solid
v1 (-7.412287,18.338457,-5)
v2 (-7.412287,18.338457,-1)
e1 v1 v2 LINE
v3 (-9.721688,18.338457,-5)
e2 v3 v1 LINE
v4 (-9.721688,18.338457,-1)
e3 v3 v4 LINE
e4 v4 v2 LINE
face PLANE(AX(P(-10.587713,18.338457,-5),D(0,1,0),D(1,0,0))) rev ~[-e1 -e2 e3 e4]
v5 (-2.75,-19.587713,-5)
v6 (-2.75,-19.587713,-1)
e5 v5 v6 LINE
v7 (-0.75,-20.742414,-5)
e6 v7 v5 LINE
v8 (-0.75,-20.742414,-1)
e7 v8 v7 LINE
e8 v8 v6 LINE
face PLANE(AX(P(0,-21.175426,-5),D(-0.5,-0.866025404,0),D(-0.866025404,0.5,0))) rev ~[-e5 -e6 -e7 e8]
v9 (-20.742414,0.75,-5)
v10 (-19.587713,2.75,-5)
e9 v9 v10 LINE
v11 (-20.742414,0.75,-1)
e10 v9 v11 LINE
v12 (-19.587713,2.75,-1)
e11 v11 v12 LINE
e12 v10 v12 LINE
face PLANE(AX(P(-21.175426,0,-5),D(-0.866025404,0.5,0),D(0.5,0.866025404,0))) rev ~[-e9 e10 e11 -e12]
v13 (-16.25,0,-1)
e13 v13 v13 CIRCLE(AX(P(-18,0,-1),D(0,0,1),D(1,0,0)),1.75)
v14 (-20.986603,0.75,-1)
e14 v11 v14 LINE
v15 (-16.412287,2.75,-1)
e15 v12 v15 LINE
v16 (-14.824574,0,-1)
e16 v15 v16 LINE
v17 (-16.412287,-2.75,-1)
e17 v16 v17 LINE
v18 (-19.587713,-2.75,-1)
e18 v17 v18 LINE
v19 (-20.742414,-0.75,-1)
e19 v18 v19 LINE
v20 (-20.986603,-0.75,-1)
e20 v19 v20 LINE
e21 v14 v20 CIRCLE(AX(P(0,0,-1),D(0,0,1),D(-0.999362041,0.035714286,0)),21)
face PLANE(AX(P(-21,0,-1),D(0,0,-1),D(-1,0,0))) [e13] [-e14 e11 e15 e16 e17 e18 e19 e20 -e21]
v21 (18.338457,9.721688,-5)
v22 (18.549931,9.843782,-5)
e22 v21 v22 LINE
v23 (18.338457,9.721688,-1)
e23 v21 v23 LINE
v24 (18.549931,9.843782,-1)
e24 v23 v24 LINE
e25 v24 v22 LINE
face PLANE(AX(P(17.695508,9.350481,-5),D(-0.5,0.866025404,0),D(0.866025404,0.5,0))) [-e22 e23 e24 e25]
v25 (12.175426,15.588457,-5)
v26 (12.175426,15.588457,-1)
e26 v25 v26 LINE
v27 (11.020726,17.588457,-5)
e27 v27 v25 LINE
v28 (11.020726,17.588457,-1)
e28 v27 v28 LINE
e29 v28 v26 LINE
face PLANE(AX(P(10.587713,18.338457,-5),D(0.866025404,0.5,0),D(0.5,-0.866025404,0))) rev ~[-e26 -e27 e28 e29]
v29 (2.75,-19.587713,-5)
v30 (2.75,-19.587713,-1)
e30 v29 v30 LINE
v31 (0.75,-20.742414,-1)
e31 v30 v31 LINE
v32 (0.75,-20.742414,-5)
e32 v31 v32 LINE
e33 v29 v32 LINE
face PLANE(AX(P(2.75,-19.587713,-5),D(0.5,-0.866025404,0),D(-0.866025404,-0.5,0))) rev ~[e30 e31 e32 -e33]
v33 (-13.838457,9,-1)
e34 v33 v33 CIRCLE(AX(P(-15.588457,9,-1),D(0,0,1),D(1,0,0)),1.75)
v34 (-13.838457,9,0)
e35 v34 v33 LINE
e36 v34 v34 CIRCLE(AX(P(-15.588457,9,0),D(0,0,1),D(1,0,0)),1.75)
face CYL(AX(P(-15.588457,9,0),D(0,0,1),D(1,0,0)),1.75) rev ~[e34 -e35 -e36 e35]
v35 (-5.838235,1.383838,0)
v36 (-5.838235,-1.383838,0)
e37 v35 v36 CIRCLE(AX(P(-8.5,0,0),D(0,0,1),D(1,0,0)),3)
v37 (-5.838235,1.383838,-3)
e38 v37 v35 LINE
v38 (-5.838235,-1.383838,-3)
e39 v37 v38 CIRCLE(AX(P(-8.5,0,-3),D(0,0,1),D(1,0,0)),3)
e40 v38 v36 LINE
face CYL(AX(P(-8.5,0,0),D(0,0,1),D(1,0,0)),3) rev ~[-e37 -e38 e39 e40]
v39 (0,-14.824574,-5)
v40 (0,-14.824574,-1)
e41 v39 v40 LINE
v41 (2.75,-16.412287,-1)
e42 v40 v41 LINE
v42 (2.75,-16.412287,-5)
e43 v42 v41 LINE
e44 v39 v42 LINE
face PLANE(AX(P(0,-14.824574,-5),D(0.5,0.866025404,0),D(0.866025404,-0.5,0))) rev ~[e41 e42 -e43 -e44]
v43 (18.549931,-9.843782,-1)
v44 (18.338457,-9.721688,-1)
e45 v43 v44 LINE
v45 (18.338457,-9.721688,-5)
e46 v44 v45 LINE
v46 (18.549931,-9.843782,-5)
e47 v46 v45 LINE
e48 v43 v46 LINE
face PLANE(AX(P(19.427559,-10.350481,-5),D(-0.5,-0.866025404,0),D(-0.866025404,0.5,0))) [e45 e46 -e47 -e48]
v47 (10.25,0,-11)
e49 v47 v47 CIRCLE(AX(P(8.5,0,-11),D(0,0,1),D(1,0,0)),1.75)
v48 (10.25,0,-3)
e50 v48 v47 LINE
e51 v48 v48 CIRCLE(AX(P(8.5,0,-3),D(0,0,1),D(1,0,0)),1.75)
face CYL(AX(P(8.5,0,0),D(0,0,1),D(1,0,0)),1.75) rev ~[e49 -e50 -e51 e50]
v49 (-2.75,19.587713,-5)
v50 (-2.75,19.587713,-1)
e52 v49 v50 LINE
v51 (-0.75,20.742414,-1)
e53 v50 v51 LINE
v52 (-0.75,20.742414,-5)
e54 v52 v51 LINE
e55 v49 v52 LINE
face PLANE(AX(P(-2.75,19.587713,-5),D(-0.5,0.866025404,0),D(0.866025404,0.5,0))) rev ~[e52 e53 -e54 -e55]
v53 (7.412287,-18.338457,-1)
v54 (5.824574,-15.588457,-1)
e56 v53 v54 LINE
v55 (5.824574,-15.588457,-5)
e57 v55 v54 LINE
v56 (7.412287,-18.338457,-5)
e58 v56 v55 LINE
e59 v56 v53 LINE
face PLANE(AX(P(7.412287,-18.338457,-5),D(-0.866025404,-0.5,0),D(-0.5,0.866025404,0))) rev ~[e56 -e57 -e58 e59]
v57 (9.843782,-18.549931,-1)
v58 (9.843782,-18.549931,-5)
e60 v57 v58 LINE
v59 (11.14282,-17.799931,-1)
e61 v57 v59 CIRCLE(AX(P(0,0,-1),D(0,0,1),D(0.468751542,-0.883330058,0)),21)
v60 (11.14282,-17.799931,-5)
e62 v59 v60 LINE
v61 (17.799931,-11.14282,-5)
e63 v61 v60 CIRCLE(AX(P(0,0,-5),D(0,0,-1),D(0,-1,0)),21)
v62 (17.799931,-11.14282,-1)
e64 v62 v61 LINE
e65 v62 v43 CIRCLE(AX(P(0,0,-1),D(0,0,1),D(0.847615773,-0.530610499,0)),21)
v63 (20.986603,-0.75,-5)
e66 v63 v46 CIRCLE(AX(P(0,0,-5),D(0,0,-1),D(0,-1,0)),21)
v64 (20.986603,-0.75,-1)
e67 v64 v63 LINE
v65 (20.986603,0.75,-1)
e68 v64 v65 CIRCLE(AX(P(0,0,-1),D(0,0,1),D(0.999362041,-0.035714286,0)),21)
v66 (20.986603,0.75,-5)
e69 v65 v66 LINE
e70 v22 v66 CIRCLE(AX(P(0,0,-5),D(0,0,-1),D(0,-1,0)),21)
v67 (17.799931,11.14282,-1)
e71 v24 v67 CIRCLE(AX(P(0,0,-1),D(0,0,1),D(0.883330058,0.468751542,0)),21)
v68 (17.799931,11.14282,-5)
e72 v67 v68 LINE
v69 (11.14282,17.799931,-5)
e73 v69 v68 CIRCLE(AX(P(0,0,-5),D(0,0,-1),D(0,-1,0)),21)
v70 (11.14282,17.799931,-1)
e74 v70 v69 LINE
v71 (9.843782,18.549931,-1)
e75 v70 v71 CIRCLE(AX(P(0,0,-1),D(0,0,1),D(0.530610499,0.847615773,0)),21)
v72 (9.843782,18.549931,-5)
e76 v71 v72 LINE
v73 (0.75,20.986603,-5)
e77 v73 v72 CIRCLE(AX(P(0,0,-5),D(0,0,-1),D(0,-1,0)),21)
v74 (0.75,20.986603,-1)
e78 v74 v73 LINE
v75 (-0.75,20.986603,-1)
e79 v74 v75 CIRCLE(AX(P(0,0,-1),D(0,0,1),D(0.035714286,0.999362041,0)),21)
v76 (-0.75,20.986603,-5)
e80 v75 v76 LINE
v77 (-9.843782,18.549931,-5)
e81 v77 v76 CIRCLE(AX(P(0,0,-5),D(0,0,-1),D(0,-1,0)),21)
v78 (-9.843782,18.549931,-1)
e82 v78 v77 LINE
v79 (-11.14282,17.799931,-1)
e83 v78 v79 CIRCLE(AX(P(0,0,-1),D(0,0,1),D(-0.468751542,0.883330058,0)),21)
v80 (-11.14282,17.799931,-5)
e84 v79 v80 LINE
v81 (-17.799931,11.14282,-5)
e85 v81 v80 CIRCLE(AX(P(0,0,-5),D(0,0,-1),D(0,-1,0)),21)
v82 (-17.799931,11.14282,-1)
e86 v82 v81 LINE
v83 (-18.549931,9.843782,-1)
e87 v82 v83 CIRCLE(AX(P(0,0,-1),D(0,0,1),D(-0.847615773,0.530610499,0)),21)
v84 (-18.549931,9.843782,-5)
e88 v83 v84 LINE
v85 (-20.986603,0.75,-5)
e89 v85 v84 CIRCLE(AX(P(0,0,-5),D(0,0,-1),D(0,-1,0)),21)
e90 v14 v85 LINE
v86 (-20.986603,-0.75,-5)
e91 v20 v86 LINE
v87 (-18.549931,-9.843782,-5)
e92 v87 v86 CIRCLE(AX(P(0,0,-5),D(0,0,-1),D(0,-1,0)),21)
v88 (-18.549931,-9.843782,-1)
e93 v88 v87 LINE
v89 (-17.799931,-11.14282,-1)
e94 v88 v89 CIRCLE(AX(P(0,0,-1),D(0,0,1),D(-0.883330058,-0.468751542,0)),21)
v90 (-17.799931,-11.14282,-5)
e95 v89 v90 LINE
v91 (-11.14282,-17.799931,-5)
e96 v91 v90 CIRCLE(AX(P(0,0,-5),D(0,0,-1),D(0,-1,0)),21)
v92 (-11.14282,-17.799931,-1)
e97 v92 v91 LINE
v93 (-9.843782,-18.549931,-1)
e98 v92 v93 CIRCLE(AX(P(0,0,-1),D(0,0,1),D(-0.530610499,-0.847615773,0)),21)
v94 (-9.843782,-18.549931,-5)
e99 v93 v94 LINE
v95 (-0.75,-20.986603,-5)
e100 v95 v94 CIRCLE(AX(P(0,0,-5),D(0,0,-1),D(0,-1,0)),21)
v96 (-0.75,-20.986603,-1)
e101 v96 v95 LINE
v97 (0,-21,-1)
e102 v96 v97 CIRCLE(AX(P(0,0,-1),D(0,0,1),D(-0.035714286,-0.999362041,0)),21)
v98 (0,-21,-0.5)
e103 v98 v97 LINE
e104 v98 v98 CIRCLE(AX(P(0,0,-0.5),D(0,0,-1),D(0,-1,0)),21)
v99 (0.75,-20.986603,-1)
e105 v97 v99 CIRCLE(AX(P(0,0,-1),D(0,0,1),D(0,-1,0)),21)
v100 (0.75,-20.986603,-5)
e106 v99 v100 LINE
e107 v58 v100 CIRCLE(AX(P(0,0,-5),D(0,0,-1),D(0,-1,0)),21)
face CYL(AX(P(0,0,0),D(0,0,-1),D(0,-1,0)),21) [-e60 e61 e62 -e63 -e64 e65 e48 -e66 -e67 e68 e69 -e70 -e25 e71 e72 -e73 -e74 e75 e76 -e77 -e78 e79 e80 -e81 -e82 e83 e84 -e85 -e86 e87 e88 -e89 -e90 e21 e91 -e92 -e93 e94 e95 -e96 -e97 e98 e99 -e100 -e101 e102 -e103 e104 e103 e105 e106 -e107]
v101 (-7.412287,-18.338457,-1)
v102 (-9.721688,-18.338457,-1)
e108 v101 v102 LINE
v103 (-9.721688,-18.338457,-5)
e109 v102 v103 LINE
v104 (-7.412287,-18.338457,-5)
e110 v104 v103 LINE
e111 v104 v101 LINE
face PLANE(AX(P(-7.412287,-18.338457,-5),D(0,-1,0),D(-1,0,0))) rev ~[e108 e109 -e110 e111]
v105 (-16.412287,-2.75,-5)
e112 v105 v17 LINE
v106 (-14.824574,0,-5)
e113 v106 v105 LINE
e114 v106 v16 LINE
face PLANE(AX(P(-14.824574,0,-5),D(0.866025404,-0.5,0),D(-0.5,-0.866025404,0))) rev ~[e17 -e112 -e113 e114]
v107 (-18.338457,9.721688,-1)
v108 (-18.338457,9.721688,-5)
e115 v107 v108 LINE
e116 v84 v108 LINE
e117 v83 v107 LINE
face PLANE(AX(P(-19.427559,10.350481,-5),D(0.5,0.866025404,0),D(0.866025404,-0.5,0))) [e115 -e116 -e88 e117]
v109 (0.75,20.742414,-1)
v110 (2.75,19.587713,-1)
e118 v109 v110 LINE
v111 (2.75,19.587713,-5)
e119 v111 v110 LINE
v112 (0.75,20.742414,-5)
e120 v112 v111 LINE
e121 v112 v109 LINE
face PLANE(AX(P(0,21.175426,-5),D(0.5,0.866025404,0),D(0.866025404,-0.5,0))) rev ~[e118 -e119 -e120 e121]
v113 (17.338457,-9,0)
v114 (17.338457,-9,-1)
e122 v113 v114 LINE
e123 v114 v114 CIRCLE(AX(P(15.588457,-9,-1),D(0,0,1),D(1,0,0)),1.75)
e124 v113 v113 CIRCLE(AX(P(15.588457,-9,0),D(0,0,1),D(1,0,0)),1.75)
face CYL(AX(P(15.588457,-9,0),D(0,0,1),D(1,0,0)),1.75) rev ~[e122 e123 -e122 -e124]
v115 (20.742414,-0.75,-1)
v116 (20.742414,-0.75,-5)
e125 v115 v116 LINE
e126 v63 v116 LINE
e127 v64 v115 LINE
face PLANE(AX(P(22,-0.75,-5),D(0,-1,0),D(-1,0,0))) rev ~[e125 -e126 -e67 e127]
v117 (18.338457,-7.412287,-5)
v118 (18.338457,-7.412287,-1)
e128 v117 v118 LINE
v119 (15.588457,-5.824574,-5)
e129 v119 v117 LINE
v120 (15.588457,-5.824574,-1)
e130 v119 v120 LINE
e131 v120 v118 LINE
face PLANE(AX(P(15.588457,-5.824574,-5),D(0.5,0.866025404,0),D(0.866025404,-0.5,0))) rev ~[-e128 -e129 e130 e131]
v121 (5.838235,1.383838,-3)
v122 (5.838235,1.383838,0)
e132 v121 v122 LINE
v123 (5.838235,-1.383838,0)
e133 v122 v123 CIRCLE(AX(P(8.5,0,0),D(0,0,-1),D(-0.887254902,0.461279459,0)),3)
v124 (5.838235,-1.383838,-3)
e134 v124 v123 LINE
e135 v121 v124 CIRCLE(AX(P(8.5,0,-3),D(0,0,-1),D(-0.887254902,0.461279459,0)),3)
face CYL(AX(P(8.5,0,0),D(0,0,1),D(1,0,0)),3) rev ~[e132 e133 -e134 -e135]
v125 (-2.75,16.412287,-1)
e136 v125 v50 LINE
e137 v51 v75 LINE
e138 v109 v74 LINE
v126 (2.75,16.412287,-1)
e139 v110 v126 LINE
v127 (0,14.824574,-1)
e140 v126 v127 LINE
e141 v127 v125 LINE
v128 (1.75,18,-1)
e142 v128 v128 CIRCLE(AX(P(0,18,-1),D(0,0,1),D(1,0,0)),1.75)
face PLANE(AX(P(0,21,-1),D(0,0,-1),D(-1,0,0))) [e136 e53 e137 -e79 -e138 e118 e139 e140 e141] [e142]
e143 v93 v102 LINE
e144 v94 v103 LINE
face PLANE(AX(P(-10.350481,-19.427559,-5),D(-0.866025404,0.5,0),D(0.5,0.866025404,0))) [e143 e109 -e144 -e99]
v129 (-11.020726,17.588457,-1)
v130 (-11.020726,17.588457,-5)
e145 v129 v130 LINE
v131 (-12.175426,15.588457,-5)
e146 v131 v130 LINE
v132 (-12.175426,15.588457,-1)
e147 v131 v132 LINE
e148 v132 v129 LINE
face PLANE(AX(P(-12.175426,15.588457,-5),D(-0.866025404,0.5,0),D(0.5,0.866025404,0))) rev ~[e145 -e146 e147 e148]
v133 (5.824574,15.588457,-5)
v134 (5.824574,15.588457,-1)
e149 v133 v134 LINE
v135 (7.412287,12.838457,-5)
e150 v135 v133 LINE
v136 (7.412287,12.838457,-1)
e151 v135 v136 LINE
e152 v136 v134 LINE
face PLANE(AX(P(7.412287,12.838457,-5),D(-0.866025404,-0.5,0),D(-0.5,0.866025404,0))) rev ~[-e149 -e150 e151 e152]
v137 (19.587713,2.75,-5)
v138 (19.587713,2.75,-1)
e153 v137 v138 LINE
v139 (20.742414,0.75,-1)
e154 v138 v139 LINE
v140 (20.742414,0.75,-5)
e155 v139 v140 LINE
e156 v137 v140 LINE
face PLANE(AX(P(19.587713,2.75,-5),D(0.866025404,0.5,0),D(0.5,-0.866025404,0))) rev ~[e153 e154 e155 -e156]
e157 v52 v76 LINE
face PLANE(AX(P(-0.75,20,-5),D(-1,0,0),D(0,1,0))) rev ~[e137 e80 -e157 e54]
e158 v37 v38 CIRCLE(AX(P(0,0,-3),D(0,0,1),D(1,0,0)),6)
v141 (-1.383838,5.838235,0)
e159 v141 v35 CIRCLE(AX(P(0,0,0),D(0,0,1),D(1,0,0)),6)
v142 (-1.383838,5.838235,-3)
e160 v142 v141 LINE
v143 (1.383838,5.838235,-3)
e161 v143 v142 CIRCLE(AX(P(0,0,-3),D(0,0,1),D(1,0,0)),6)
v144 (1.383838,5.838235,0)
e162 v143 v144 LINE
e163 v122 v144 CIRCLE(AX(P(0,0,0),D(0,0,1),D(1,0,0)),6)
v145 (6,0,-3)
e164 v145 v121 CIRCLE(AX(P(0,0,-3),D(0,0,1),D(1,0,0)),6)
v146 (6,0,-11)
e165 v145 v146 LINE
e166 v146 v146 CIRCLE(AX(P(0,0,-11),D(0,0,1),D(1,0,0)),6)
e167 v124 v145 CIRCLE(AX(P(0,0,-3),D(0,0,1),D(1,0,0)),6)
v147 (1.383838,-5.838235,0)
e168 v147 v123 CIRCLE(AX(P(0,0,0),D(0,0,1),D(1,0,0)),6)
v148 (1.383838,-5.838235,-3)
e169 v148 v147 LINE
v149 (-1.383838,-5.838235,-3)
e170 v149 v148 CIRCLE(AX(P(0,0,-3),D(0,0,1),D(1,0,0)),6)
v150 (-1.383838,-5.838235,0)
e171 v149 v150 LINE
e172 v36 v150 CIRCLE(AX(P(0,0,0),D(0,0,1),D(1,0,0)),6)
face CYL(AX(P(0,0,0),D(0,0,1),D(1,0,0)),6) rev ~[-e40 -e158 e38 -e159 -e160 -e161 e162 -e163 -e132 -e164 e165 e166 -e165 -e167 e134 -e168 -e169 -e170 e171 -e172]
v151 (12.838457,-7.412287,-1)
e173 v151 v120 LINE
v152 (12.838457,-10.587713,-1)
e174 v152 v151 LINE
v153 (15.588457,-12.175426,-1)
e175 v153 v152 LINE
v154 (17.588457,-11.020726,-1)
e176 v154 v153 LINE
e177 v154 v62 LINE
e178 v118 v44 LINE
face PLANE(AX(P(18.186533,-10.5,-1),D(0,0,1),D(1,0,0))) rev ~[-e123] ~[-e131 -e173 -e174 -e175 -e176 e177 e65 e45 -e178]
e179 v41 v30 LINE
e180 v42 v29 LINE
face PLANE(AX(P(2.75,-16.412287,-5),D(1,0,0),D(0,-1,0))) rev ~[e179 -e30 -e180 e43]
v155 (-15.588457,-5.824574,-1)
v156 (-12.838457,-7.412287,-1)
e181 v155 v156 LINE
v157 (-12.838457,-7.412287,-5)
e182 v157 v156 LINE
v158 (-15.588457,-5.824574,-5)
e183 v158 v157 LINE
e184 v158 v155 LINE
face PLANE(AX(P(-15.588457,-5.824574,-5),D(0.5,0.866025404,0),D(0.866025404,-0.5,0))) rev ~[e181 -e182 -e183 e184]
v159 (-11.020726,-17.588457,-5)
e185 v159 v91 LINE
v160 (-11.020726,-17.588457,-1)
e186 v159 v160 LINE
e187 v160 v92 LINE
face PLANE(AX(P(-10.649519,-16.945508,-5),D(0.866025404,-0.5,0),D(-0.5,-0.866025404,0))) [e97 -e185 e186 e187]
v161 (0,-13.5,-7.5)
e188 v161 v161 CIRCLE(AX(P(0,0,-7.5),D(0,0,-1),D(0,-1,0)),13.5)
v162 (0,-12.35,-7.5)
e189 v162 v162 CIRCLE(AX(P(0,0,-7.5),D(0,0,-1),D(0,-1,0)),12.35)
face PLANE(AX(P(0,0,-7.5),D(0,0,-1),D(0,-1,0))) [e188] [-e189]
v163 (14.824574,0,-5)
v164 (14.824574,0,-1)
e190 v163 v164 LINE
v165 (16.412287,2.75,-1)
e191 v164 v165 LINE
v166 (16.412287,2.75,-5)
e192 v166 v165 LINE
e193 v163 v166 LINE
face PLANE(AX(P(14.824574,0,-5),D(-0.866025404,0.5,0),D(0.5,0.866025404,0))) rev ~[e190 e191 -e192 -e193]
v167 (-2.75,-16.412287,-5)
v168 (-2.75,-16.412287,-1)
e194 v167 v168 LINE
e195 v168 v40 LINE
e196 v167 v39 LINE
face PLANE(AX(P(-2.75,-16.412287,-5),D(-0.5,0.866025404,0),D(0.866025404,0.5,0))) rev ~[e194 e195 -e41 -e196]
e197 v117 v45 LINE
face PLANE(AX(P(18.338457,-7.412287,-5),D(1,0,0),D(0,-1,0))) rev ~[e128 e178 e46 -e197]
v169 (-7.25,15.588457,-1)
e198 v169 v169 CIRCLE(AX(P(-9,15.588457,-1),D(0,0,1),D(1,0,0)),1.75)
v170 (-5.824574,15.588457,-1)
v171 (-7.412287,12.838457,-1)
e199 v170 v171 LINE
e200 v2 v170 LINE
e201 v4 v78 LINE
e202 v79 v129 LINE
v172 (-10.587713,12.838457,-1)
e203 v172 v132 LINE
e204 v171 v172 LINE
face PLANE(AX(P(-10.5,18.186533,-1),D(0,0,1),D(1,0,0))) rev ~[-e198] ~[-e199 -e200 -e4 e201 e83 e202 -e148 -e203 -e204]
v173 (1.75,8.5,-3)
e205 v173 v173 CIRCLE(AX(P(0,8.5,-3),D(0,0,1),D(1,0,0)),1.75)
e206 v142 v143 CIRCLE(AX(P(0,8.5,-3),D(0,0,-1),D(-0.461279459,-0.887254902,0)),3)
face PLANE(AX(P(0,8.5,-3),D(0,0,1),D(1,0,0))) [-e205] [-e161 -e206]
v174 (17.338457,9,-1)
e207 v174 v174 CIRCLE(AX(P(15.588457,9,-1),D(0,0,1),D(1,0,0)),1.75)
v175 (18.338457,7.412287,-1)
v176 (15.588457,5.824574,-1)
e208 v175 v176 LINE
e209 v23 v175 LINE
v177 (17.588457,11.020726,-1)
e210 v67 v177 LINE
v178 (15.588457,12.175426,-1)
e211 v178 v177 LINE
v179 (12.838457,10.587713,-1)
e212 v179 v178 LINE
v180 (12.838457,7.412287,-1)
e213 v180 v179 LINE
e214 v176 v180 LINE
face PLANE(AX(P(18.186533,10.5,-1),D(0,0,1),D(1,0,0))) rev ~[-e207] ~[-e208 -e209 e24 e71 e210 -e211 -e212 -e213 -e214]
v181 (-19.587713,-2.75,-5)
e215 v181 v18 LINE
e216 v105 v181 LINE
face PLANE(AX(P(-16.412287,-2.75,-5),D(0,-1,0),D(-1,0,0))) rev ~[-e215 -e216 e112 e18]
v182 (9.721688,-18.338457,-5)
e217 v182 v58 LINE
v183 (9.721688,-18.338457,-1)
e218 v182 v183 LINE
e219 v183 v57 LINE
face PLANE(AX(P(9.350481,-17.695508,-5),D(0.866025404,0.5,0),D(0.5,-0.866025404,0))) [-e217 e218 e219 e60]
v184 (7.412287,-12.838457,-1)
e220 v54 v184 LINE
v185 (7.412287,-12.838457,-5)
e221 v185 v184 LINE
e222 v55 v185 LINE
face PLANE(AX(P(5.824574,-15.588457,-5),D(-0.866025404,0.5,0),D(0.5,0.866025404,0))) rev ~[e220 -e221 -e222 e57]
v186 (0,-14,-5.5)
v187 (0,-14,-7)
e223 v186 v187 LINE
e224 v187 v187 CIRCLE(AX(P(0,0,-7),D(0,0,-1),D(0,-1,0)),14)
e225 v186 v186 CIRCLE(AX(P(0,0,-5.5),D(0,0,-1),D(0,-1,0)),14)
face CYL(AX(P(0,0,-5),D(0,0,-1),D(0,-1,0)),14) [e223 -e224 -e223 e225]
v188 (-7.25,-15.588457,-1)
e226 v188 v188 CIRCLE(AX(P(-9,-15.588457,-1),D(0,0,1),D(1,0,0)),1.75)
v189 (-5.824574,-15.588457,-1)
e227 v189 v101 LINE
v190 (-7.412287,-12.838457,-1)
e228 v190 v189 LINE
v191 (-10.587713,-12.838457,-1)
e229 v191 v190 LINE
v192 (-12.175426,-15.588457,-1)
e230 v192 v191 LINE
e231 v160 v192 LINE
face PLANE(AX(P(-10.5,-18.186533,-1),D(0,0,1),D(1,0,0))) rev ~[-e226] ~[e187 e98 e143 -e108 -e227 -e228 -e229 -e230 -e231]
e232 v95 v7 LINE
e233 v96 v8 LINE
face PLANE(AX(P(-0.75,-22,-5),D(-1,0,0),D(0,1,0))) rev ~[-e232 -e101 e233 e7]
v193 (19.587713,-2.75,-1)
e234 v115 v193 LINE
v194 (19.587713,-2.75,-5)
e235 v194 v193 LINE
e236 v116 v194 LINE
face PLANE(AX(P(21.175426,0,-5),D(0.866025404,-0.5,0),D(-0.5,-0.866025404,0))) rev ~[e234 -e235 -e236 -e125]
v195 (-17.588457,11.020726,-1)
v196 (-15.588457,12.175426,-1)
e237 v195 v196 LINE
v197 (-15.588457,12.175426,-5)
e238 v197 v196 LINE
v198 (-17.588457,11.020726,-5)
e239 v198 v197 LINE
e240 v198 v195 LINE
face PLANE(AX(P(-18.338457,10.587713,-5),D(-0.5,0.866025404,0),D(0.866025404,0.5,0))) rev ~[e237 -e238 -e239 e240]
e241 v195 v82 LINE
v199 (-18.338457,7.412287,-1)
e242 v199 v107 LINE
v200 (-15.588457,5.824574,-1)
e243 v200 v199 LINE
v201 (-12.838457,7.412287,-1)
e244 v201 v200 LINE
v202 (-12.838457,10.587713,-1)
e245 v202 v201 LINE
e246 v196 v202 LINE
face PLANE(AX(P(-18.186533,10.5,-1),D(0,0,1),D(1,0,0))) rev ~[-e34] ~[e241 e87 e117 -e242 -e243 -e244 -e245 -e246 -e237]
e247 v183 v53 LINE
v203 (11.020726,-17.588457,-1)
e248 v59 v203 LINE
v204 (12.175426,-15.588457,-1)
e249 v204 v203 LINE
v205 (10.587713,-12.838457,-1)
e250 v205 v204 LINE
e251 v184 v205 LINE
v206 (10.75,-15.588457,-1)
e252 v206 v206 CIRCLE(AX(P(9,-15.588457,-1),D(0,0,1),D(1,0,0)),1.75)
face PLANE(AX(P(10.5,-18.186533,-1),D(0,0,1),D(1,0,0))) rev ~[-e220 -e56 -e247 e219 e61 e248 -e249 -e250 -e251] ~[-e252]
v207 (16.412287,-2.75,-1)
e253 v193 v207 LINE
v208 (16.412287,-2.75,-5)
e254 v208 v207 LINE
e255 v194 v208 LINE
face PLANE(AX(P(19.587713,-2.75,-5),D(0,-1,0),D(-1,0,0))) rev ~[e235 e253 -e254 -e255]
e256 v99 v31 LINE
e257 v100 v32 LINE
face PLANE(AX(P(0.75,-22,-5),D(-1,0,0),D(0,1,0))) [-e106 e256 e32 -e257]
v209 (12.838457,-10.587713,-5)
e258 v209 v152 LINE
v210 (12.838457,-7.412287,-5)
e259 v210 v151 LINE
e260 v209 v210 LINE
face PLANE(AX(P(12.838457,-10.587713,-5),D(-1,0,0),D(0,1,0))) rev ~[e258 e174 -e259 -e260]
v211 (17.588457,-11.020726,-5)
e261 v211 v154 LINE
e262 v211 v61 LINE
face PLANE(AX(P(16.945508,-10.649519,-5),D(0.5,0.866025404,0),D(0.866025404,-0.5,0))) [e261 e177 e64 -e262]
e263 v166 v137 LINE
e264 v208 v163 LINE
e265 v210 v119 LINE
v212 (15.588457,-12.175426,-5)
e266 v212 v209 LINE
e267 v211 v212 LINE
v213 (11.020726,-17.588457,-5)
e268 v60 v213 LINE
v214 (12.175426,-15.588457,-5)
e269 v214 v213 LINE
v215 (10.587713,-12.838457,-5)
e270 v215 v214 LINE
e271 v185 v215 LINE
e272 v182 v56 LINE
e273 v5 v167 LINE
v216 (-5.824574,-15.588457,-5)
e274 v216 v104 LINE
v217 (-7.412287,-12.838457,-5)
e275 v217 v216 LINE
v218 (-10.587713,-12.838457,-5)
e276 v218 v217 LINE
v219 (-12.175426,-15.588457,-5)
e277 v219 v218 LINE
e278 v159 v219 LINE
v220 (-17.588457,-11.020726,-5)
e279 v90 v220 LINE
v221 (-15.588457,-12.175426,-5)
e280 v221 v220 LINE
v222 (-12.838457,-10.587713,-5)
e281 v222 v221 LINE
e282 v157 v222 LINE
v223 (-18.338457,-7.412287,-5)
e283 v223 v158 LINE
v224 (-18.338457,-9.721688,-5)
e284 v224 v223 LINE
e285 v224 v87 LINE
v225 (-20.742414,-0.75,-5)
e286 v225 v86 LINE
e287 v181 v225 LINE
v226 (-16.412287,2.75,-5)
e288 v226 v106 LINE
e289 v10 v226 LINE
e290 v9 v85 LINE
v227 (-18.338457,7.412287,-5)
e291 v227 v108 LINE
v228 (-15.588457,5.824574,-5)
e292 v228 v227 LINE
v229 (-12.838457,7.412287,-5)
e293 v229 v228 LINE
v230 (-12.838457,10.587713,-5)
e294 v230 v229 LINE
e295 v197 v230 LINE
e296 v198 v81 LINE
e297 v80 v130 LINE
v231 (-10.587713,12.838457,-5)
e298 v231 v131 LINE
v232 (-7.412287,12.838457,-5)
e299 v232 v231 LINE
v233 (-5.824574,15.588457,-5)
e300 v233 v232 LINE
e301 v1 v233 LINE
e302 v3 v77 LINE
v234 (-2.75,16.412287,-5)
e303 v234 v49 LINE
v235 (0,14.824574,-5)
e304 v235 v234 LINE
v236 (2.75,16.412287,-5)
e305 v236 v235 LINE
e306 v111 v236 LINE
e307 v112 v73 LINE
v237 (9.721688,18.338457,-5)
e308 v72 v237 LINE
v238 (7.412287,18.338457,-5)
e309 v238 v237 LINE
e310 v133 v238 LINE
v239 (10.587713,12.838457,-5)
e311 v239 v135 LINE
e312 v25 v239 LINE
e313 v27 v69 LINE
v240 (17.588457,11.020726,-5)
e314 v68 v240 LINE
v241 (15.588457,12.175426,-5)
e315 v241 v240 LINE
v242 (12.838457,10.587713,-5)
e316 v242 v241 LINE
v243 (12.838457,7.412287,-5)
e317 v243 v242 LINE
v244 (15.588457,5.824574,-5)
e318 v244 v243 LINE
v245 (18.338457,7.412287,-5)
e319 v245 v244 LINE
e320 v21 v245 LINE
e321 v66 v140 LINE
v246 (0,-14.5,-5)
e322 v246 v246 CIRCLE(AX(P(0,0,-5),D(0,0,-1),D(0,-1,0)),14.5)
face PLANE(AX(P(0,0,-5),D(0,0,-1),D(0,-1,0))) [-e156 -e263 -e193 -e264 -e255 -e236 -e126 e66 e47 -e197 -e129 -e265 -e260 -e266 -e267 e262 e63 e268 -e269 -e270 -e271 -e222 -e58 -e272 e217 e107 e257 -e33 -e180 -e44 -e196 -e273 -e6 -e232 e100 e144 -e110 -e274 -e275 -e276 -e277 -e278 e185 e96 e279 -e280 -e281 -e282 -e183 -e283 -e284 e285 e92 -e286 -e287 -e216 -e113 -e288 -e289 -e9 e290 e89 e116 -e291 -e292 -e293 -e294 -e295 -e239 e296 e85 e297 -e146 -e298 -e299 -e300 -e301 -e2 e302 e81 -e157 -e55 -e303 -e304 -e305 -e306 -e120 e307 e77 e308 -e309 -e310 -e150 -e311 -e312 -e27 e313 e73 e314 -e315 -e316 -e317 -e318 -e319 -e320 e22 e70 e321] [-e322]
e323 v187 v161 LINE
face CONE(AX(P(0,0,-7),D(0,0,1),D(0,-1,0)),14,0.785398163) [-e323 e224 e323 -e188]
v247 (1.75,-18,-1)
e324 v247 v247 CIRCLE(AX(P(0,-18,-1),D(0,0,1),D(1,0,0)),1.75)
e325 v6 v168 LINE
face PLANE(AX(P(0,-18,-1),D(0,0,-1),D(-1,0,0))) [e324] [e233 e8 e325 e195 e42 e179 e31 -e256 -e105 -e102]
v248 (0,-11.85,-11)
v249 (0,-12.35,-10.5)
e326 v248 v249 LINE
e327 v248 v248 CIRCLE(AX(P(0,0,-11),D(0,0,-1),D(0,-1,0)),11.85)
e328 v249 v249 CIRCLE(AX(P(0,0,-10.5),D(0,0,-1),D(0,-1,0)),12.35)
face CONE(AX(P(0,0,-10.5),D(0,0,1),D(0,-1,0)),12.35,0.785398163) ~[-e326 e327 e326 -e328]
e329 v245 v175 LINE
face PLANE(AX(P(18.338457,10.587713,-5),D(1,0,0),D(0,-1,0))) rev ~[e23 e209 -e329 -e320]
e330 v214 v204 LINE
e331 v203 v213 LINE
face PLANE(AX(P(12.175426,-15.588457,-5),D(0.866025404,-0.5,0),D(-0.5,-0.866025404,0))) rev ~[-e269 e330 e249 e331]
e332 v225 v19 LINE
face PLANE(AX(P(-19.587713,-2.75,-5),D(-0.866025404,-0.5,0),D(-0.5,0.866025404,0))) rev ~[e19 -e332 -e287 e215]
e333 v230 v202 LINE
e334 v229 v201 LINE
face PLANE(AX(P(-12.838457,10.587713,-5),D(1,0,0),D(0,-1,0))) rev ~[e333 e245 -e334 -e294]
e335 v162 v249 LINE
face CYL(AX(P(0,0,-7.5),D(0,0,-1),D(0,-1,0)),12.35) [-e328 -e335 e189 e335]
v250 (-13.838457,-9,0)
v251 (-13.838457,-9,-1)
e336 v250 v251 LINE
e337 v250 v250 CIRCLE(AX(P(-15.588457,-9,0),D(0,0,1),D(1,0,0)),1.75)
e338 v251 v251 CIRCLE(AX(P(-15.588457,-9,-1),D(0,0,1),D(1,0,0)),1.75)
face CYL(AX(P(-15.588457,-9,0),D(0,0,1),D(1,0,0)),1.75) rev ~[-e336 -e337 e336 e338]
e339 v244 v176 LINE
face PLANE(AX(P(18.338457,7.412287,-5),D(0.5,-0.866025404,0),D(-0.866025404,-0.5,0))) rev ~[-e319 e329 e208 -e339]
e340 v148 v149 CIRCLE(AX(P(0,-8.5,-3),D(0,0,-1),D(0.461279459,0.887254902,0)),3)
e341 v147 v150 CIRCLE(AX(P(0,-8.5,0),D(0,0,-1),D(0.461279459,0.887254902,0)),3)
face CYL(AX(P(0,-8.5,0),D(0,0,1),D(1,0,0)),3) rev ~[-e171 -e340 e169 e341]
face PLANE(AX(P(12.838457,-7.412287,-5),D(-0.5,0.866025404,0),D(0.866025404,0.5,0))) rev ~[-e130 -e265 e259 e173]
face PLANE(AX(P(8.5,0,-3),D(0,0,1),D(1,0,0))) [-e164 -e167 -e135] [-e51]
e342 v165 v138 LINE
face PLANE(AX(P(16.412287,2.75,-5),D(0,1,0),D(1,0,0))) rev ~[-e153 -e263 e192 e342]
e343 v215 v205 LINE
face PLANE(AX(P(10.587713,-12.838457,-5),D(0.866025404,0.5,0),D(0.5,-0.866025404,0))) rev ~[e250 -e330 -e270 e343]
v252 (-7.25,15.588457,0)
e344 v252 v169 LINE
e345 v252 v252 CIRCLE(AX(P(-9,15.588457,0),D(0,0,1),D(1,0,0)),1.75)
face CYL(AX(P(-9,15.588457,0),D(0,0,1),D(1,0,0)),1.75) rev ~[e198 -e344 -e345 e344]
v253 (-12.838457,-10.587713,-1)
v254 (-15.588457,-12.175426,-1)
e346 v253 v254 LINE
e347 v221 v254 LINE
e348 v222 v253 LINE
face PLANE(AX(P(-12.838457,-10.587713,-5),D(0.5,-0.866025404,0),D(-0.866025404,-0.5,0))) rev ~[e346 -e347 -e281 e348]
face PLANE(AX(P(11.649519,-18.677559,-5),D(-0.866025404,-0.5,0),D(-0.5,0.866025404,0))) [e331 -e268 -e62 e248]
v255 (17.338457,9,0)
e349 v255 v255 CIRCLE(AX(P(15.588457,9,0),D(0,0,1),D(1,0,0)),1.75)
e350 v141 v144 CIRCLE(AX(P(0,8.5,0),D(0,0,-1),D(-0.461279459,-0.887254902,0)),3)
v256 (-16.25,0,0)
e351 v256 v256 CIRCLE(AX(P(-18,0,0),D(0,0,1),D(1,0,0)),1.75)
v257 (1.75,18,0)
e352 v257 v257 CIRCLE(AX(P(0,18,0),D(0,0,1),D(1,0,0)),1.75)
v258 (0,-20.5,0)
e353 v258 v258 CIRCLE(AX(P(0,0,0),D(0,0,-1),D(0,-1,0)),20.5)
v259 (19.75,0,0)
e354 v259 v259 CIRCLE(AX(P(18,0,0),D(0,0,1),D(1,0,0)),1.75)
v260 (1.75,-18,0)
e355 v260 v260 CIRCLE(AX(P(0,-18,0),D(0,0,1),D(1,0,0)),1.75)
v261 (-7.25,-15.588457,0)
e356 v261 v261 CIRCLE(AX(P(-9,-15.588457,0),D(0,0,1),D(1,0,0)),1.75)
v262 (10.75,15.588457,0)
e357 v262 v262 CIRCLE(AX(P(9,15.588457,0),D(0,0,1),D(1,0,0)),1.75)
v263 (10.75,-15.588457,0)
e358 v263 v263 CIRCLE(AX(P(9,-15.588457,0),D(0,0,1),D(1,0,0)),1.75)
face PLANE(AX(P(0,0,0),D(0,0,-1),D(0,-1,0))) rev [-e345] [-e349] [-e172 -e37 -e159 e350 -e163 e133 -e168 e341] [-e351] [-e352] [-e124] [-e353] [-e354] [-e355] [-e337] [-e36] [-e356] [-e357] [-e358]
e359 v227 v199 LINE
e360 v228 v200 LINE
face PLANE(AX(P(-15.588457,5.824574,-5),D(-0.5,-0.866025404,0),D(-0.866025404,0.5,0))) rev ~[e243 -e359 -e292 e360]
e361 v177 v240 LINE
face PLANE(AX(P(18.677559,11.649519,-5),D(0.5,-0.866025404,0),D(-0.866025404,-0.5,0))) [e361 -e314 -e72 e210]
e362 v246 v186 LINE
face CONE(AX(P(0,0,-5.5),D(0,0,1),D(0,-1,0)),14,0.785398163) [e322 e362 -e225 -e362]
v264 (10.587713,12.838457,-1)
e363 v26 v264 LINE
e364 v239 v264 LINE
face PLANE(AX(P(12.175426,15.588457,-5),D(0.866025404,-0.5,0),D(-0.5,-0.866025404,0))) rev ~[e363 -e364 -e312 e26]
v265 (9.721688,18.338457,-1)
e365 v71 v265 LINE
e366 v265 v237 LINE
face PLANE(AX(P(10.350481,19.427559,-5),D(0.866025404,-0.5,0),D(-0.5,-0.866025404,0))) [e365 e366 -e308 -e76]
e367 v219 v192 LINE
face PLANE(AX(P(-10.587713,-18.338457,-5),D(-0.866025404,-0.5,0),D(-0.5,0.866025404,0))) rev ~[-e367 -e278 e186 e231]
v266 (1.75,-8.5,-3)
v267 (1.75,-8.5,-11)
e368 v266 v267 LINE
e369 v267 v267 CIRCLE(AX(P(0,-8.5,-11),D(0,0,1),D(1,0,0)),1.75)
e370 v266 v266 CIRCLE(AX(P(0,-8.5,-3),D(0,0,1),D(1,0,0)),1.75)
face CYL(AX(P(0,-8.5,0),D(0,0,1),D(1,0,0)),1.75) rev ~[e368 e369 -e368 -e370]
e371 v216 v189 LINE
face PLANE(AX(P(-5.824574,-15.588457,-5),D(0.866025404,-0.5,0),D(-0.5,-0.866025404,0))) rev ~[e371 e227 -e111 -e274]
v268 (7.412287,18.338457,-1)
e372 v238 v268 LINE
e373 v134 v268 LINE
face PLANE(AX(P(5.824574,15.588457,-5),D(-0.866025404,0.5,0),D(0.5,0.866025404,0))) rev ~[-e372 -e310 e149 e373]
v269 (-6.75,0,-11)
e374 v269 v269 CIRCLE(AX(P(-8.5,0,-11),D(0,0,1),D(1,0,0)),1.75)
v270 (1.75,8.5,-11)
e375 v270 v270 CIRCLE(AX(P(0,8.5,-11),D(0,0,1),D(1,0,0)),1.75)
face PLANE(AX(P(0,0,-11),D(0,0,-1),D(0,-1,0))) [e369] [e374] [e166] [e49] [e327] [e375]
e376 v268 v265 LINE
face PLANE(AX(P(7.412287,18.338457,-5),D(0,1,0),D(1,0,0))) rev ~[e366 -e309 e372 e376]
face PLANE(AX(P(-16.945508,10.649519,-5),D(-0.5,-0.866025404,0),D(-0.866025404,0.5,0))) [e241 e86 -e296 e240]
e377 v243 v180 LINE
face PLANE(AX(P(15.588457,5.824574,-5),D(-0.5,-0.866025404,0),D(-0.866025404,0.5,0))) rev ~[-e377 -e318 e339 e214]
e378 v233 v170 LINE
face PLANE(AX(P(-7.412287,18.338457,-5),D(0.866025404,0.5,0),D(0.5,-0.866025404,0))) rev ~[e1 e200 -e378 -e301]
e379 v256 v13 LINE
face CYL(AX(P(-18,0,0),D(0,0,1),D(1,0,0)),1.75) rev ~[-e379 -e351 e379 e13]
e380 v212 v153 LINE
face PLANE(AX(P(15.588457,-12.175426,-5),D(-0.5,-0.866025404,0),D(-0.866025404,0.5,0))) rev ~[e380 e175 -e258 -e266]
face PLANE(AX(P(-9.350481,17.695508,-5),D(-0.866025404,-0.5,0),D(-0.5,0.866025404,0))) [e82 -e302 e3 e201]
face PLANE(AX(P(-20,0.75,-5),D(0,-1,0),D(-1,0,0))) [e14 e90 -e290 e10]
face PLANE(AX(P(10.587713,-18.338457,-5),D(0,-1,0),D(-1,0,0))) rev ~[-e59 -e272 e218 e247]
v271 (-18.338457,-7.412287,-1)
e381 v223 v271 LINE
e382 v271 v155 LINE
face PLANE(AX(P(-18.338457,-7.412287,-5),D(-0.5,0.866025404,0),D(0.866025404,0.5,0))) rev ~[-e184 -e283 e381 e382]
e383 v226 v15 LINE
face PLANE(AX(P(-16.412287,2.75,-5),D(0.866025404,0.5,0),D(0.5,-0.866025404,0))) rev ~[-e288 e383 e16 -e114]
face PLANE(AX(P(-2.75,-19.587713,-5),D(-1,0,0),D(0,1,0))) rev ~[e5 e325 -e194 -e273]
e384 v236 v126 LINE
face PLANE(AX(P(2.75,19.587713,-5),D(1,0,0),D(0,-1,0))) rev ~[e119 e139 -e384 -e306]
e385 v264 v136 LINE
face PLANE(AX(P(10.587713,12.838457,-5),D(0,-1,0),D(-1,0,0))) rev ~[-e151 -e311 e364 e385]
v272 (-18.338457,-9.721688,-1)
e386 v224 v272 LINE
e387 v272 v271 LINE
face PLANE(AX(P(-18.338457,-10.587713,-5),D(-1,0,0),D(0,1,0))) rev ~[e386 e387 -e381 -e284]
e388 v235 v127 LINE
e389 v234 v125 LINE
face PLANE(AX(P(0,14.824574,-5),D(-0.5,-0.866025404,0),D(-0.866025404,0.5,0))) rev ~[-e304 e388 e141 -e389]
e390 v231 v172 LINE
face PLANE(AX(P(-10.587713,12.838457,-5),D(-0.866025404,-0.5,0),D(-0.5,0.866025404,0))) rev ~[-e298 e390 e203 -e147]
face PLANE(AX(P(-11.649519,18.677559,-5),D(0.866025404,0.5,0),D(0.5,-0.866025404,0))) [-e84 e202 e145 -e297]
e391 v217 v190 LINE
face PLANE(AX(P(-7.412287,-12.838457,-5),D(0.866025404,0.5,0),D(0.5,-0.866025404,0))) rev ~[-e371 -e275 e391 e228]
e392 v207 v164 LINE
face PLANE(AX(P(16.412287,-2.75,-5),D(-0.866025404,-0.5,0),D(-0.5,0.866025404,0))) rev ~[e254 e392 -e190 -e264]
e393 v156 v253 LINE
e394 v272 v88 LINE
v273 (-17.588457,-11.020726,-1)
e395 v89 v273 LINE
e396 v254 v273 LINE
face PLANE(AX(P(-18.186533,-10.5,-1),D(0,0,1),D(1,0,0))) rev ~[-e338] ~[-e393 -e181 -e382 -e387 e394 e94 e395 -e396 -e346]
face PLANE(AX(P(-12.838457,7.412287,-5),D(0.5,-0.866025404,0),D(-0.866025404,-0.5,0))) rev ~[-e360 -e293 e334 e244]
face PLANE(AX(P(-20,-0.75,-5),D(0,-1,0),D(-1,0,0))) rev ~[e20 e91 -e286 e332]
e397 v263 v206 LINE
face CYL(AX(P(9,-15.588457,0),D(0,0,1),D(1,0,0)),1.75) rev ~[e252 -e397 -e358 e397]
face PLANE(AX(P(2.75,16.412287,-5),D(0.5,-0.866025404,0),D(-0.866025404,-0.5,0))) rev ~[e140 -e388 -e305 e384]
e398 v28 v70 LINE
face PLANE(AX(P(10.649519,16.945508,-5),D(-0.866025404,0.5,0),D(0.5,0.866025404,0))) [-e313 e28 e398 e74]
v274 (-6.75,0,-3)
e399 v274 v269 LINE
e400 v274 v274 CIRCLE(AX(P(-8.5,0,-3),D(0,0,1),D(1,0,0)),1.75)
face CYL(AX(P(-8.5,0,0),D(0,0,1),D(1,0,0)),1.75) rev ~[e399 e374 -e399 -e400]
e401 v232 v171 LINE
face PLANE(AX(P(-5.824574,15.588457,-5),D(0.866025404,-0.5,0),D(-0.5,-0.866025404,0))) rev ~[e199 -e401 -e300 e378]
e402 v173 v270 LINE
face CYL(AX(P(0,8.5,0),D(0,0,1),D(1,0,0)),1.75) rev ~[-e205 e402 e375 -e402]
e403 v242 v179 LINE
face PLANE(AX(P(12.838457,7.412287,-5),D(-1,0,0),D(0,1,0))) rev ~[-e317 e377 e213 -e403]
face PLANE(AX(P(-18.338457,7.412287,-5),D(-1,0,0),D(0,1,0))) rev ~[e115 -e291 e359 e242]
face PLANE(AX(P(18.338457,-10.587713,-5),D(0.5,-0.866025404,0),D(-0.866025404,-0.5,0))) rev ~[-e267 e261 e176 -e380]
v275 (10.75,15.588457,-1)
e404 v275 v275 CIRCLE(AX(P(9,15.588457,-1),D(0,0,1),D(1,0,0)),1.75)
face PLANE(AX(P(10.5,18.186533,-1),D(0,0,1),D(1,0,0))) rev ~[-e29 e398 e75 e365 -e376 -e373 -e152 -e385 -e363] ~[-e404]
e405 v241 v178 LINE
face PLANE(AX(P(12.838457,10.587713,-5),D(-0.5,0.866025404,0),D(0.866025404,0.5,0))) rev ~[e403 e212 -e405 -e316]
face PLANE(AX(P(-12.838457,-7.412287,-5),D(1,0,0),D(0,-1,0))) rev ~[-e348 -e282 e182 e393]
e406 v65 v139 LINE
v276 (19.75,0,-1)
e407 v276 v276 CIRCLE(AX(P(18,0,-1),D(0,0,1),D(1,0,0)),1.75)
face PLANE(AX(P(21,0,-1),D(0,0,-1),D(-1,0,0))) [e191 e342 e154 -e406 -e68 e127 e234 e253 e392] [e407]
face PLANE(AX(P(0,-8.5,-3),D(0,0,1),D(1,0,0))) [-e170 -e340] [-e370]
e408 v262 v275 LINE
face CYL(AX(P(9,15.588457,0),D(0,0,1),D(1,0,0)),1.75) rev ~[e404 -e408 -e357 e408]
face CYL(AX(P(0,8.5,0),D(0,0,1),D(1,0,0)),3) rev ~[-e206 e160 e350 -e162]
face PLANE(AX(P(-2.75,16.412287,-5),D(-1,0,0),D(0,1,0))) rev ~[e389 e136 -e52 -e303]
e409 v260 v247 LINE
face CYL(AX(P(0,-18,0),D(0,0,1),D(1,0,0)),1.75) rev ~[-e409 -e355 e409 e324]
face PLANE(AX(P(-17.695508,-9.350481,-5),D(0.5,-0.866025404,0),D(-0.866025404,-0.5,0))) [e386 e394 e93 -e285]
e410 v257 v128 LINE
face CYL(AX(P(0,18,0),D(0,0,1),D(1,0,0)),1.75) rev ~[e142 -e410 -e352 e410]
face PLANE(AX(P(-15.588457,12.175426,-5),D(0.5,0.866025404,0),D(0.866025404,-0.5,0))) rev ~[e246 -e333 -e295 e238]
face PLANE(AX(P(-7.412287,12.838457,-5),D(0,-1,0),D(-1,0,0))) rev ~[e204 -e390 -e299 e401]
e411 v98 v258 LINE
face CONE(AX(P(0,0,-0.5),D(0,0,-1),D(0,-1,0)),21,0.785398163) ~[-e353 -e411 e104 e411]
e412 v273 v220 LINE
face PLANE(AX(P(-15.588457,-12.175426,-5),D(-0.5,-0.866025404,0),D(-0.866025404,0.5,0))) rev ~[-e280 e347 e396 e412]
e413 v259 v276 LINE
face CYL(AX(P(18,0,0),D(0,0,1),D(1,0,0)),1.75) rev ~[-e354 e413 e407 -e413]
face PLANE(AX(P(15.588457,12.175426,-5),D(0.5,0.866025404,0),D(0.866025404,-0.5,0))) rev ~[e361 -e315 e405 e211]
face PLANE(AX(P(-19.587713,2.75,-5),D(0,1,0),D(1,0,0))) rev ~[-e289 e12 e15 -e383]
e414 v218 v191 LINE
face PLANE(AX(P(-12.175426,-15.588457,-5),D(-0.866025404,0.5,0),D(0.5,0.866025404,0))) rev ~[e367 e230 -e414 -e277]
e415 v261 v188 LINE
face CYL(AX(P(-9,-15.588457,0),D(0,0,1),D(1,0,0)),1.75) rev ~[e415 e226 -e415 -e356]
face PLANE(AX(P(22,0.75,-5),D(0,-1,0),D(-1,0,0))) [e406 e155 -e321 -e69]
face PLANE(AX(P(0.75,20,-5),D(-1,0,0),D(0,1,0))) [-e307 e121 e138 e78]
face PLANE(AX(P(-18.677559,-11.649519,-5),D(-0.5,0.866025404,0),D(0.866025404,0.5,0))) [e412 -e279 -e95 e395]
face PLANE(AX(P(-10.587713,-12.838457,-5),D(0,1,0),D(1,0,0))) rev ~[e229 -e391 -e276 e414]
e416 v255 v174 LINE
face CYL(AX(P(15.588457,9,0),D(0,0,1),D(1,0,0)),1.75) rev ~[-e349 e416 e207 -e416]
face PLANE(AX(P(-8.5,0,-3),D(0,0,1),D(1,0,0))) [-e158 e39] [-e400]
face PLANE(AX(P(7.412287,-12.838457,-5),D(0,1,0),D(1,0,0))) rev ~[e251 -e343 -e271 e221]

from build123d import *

# Parameters (mm, degrees)
SKIZZE4_R                        = 1.75
SCHNITT_LINEAR_AUSTRAGEN2_DEPTH  = 32.670175244
SCHNITT_LINEAR_AUSTRAGEN3_DEPTH  = 4
SKIZZE6_R                        = 1.75
SCHNITT_LINEAR_AUSTRAGEN6_DEPTH  = 32.670175244
FASE1_SIZE                       = 0.5
FASE2_SIZE                       = 0.5
SKIZZE8_W                        = 1.5
SKIZZE8_H                        = 2
SKIZZE8_W_2                      = 2
SKIZZE8_H_2                      = 1.5
SCHNITT_LINEAR_AUSTRAGEN8_DEPTH  = 4
SKIZZE9_R                        = 6
SCHNITT_LINEAR_AUSTRAGEN9_DEPTH  = 32.670175244
SKIZZE11_R                       = 3
SCHNITT_LINEAR_AUSTRAGEN10_DEPTH = 3


with BuildPart() as part:
    # Skizze1 → Rotation1 (revolve)
    with BuildSketch(Plane(origin=(0, 0, 0), x_dir=(0, 0, -1), z_dir=(1, 0, 0)), mode=Mode.PRIVATE) as rotation1_sk:
        Polygon((0, 0), (0, 21), (5, 21), (5, 14), (7.5, 14), (7.5, 12.35), (11, 12.35), (11, 0), align=None)
    revolve(rotation1_sk.sketch.rotate(Axis((0, 0, 0), (0, 0, -1)), 180), axis=Axis((0, 0, 0), (0, 0, -1)))

    # Skizze4 → Schnitt-Linear austragen2 (cut, through all)
    with BuildSketch(Plane.XY):
        with Locations((0, 18)):
            Circle(SKIZZE4_R)
        with Locations((9, 15.588457268)):
            Circle(SKIZZE4_R)
        with Locations((15.588457268, 9)):
            Circle(SKIZZE4_R)
        with Locations((18, 0)):
            Circle(SKIZZE4_R)
        with Locations((15.588457268, -9)):
            Circle(SKIZZE4_R)
        with Locations((9, -15.588457268)):
            Circle(SKIZZE4_R)
        with Locations((0, -18)):
            Circle(SKIZZE4_R)
        with Locations((-9, -15.588457268)):
            Circle(SKIZZE4_R)
        with Locations((-15.588457268, -9)):
            Circle(SKIZZE4_R)
        with Locations((-18, 0)):
            Circle(SKIZZE4_R)
        with Locations((-15.588457268, 9)):
            Circle(SKIZZE4_R)
        with Locations((-9, 15.588457268)):
            Circle(SKIZZE4_R)
    extrude(amount=-SCHNITT_LINEAR_AUSTRAGEN2_DEPTH, mode=Mode.SUBTRACT)

    # Skizze5 → Schnitt-Linear austragen3 (cut)
    with BuildSketch(Plane(origin=(0, 0, -5), x_dir=(-1, 0, 0), z_dir=(0, 0, -1))):
        Polygon((7.41228676, 12.838457268), (10.58771324, 12.838457268), (12.175426481, 15.588457268), (10.58771324, 18.338457268), (7.41228676, 18.338457268), (5.824573519, 15.588457268), align=None)
        Polygon((0, 14.824573519), (2.75, 16.41228676), (2.75, 19.58771324), (0, 21.175426481), (-2.75, 19.58771324), (-2.75, 16.41228676), align=None)
        Polygon((12.838457268, 7.41228676), (15.588457268, 5.824573519), (18.338457268, 7.41228676), (18.338457268, 10.58771324), (15.588457268, 12.175426481), (12.838457268, 10.58771324), align=None)
        Polygon((14.824573519, 0), (16.41228676, -2.75), (19.58771324, -2.75), (21.175426481, 0), (19.58771324, 2.75), (16.41228676, 2.75), align=None)
        Polygon((12.838457268, -7.41228676), (12.838457268, -10.58771324), (15.588457268, -12.175426481), (18.338457268, -10.58771324), (18.338457268, -7.41228676), (15.588457268, -5.824573519), align=None)
        Polygon((7.41228676, -12.838457268), (5.824573519, -15.588457268), (7.41228676, -18.338457268), (10.58771324, -18.338457268), (12.175426481, -15.588457268), (10.58771324, -12.838457268), align=None)
        Polygon((0, -14.824573519), (-2.75, -16.41228676), (-2.75, -19.58771324), (0, -21.175426481), (2.75, -19.58771324), (2.75, -16.41228676), align=None)
        Polygon((-7.41228676, -12.838457268), (-10.58771324, -12.838457268), (-12.175426481, -15.588457268), (-10.58771324, -18.338457268), (-7.41228676, -18.338457268), (-5.824573519, -15.588457268), align=None)
        Polygon((-12.838457268, -7.41228676), (-15.588457268, -5.824573519), (-18.338457268, -7.41228676), (-18.338457268, -10.58771324), (-15.588457268, -12.175426481), (-12.838457268, -10.58771324), align=None)
        Polygon((-14.824573519, 0), (-16.41228676, 2.75), (-19.58771324, 2.75), (-21.175426481, 0), (-19.58771324, -2.75), (-16.41228676, -2.75), align=None)
        Polygon((-12.838457268, 7.41228676), (-12.838457268, 10.58771324), (-15.588457268, 12.175426481), (-18.338457268, 10.58771324), (-18.338457268, 7.41228676), (-15.588457268, 5.824573519), align=None)
        Polygon((-7.41228676, 12.838457268), (-5.824573519, 15.588457268), (-7.41228676, 18.338457268), (-10.58771324, 18.338457268), (-12.175426481, 15.588457268), (-10.58771324, 12.838457268), align=None)
    extrude(amount=-SCHNITT_LINEAR_AUSTRAGEN3_DEPTH, mode=Mode.SUBTRACT)

    # Skizze6 → Schnitt-Linear austragen6 (cut, through all)
    with BuildSketch(Plane.XY):
        with Locations((0, 8.5)):
            Circle(SKIZZE6_R)
        with Locations((8.5, 0)):
            Circle(SKIZZE6_R)
        with Locations((0, -8.5)):
            Circle(SKIZZE6_R)
        with Locations((-8.5, 0)):
            Circle(SKIZZE6_R)
    extrude(amount=-SCHNITT_LINEAR_AUSTRAGEN6_DEPTH, mode=Mode.SUBTRACT)

    # Fase1
    fase1_edges = [part.edges().sort_by_distance(p)[0] for p in [
        (0, 12.35, -11),
        (0, 14, -7.5),
        (0, 14, -5),
    ]]
    chamfer(fase1_edges, length=FASE1_SIZE)

    # Fase2
    fase2_edges = [part.edges().sort_by_distance(p)[0] for p in [
        (0, 21, 0),
    ]]
    chamfer(fase2_edges, length=FASE2_SIZE)

    # Skizze8 → Schnitt-Linear austragen8 (cut)
    with BuildSketch(Plane(origin=(0, 0, -5), x_dir=(-1, 0, 0), z_dir=(0, 0, -1))):
        with Locations((0, 21)):
            Rectangle(SKIZZE8_W, SKIZZE8_H)
        Polygon((10.649519053, 16.945508076), (9.350480947, 17.695508076), (10.350480947, 19.427558883), (11.649519053, 18.677558883), align=None)
        Polygon((17.695508076, 9.350480947), (16.945508076, 10.649519053), (18.677558883, 11.649519053), (19.427558883, 10.350480947), align=None)
        with Locations((21, 0)):
            Rectangle(SKIZZE8_W_2, SKIZZE8_H_2)
        Polygon((16.945508076, -10.649519053), (17.695508076, -9.350480947), (19.427558883, -10.350480947), (18.677558883, -11.649519053), align=None)
        Polygon((9.350480947, -17.695508076), (10.649519053, -16.945508076), (11.649519053, -18.677558883), (10.350480947, -19.427558883), align=None)
        with Locations((0, -21)):
            Rectangle(SKIZZE8_W, SKIZZE8_H)
        Polygon((-10.649519053, -16.945508076), (-9.350480947, -17.695508076), (-10.350480947, -19.427558883), (-11.649519053, -18.677558883), align=None)
        Polygon((-17.695508076, -9.350480947), (-16.945508076, -10.649519053), (-18.677558883, -11.649519053), (-19.427558883, -10.350480947), align=None)
        with Locations((-21, 0)):
            Rectangle(SKIZZE8_W_2, SKIZZE8_H_2)
        Polygon((-16.945508076, 10.649519053), (-17.695508076, 9.350480947), (-19.427558883, 10.350480947), (-18.677558883, 11.649519053), align=None)
        Polygon((-9.350480947, 17.695508076), (-10.649519053, 16.945508076), (-11.649519053, 18.677558883), (-10.350480947, 19.427558883), align=None)
    extrude(amount=-SCHNITT_LINEAR_AUSTRAGEN8_DEPTH, mode=Mode.SUBTRACT)

    # Skizze9 → Schnitt-Linear austragen9 (cut, through all)
    with BuildSketch(Plane.XY):
        Circle(SKIZZE9_R)
    extrude(amount=-SCHNITT_LINEAR_AUSTRAGEN9_DEPTH, mode=Mode.SUBTRACT)

    # Skizze11 → Schnitt-Linear austragen10 (cut)
    with BuildSketch(Plane.XY):
        with Locations((0, 8.5)):
            Circle(SKIZZE11_R)
        with Locations((8.5, 0)):
            Circle(SKIZZE11_R)
        with Locations((0, -8.5)):
            Circle(SKIZZE11_R)
        with Locations((-8.5, 0)):
            Circle(SKIZZE11_R)
    extrude(amount=-SCHNITT_LINEAR_AUSTRAGEN10_DEPTH, mode=Mode.SUBTRACT)


solid = part.part
